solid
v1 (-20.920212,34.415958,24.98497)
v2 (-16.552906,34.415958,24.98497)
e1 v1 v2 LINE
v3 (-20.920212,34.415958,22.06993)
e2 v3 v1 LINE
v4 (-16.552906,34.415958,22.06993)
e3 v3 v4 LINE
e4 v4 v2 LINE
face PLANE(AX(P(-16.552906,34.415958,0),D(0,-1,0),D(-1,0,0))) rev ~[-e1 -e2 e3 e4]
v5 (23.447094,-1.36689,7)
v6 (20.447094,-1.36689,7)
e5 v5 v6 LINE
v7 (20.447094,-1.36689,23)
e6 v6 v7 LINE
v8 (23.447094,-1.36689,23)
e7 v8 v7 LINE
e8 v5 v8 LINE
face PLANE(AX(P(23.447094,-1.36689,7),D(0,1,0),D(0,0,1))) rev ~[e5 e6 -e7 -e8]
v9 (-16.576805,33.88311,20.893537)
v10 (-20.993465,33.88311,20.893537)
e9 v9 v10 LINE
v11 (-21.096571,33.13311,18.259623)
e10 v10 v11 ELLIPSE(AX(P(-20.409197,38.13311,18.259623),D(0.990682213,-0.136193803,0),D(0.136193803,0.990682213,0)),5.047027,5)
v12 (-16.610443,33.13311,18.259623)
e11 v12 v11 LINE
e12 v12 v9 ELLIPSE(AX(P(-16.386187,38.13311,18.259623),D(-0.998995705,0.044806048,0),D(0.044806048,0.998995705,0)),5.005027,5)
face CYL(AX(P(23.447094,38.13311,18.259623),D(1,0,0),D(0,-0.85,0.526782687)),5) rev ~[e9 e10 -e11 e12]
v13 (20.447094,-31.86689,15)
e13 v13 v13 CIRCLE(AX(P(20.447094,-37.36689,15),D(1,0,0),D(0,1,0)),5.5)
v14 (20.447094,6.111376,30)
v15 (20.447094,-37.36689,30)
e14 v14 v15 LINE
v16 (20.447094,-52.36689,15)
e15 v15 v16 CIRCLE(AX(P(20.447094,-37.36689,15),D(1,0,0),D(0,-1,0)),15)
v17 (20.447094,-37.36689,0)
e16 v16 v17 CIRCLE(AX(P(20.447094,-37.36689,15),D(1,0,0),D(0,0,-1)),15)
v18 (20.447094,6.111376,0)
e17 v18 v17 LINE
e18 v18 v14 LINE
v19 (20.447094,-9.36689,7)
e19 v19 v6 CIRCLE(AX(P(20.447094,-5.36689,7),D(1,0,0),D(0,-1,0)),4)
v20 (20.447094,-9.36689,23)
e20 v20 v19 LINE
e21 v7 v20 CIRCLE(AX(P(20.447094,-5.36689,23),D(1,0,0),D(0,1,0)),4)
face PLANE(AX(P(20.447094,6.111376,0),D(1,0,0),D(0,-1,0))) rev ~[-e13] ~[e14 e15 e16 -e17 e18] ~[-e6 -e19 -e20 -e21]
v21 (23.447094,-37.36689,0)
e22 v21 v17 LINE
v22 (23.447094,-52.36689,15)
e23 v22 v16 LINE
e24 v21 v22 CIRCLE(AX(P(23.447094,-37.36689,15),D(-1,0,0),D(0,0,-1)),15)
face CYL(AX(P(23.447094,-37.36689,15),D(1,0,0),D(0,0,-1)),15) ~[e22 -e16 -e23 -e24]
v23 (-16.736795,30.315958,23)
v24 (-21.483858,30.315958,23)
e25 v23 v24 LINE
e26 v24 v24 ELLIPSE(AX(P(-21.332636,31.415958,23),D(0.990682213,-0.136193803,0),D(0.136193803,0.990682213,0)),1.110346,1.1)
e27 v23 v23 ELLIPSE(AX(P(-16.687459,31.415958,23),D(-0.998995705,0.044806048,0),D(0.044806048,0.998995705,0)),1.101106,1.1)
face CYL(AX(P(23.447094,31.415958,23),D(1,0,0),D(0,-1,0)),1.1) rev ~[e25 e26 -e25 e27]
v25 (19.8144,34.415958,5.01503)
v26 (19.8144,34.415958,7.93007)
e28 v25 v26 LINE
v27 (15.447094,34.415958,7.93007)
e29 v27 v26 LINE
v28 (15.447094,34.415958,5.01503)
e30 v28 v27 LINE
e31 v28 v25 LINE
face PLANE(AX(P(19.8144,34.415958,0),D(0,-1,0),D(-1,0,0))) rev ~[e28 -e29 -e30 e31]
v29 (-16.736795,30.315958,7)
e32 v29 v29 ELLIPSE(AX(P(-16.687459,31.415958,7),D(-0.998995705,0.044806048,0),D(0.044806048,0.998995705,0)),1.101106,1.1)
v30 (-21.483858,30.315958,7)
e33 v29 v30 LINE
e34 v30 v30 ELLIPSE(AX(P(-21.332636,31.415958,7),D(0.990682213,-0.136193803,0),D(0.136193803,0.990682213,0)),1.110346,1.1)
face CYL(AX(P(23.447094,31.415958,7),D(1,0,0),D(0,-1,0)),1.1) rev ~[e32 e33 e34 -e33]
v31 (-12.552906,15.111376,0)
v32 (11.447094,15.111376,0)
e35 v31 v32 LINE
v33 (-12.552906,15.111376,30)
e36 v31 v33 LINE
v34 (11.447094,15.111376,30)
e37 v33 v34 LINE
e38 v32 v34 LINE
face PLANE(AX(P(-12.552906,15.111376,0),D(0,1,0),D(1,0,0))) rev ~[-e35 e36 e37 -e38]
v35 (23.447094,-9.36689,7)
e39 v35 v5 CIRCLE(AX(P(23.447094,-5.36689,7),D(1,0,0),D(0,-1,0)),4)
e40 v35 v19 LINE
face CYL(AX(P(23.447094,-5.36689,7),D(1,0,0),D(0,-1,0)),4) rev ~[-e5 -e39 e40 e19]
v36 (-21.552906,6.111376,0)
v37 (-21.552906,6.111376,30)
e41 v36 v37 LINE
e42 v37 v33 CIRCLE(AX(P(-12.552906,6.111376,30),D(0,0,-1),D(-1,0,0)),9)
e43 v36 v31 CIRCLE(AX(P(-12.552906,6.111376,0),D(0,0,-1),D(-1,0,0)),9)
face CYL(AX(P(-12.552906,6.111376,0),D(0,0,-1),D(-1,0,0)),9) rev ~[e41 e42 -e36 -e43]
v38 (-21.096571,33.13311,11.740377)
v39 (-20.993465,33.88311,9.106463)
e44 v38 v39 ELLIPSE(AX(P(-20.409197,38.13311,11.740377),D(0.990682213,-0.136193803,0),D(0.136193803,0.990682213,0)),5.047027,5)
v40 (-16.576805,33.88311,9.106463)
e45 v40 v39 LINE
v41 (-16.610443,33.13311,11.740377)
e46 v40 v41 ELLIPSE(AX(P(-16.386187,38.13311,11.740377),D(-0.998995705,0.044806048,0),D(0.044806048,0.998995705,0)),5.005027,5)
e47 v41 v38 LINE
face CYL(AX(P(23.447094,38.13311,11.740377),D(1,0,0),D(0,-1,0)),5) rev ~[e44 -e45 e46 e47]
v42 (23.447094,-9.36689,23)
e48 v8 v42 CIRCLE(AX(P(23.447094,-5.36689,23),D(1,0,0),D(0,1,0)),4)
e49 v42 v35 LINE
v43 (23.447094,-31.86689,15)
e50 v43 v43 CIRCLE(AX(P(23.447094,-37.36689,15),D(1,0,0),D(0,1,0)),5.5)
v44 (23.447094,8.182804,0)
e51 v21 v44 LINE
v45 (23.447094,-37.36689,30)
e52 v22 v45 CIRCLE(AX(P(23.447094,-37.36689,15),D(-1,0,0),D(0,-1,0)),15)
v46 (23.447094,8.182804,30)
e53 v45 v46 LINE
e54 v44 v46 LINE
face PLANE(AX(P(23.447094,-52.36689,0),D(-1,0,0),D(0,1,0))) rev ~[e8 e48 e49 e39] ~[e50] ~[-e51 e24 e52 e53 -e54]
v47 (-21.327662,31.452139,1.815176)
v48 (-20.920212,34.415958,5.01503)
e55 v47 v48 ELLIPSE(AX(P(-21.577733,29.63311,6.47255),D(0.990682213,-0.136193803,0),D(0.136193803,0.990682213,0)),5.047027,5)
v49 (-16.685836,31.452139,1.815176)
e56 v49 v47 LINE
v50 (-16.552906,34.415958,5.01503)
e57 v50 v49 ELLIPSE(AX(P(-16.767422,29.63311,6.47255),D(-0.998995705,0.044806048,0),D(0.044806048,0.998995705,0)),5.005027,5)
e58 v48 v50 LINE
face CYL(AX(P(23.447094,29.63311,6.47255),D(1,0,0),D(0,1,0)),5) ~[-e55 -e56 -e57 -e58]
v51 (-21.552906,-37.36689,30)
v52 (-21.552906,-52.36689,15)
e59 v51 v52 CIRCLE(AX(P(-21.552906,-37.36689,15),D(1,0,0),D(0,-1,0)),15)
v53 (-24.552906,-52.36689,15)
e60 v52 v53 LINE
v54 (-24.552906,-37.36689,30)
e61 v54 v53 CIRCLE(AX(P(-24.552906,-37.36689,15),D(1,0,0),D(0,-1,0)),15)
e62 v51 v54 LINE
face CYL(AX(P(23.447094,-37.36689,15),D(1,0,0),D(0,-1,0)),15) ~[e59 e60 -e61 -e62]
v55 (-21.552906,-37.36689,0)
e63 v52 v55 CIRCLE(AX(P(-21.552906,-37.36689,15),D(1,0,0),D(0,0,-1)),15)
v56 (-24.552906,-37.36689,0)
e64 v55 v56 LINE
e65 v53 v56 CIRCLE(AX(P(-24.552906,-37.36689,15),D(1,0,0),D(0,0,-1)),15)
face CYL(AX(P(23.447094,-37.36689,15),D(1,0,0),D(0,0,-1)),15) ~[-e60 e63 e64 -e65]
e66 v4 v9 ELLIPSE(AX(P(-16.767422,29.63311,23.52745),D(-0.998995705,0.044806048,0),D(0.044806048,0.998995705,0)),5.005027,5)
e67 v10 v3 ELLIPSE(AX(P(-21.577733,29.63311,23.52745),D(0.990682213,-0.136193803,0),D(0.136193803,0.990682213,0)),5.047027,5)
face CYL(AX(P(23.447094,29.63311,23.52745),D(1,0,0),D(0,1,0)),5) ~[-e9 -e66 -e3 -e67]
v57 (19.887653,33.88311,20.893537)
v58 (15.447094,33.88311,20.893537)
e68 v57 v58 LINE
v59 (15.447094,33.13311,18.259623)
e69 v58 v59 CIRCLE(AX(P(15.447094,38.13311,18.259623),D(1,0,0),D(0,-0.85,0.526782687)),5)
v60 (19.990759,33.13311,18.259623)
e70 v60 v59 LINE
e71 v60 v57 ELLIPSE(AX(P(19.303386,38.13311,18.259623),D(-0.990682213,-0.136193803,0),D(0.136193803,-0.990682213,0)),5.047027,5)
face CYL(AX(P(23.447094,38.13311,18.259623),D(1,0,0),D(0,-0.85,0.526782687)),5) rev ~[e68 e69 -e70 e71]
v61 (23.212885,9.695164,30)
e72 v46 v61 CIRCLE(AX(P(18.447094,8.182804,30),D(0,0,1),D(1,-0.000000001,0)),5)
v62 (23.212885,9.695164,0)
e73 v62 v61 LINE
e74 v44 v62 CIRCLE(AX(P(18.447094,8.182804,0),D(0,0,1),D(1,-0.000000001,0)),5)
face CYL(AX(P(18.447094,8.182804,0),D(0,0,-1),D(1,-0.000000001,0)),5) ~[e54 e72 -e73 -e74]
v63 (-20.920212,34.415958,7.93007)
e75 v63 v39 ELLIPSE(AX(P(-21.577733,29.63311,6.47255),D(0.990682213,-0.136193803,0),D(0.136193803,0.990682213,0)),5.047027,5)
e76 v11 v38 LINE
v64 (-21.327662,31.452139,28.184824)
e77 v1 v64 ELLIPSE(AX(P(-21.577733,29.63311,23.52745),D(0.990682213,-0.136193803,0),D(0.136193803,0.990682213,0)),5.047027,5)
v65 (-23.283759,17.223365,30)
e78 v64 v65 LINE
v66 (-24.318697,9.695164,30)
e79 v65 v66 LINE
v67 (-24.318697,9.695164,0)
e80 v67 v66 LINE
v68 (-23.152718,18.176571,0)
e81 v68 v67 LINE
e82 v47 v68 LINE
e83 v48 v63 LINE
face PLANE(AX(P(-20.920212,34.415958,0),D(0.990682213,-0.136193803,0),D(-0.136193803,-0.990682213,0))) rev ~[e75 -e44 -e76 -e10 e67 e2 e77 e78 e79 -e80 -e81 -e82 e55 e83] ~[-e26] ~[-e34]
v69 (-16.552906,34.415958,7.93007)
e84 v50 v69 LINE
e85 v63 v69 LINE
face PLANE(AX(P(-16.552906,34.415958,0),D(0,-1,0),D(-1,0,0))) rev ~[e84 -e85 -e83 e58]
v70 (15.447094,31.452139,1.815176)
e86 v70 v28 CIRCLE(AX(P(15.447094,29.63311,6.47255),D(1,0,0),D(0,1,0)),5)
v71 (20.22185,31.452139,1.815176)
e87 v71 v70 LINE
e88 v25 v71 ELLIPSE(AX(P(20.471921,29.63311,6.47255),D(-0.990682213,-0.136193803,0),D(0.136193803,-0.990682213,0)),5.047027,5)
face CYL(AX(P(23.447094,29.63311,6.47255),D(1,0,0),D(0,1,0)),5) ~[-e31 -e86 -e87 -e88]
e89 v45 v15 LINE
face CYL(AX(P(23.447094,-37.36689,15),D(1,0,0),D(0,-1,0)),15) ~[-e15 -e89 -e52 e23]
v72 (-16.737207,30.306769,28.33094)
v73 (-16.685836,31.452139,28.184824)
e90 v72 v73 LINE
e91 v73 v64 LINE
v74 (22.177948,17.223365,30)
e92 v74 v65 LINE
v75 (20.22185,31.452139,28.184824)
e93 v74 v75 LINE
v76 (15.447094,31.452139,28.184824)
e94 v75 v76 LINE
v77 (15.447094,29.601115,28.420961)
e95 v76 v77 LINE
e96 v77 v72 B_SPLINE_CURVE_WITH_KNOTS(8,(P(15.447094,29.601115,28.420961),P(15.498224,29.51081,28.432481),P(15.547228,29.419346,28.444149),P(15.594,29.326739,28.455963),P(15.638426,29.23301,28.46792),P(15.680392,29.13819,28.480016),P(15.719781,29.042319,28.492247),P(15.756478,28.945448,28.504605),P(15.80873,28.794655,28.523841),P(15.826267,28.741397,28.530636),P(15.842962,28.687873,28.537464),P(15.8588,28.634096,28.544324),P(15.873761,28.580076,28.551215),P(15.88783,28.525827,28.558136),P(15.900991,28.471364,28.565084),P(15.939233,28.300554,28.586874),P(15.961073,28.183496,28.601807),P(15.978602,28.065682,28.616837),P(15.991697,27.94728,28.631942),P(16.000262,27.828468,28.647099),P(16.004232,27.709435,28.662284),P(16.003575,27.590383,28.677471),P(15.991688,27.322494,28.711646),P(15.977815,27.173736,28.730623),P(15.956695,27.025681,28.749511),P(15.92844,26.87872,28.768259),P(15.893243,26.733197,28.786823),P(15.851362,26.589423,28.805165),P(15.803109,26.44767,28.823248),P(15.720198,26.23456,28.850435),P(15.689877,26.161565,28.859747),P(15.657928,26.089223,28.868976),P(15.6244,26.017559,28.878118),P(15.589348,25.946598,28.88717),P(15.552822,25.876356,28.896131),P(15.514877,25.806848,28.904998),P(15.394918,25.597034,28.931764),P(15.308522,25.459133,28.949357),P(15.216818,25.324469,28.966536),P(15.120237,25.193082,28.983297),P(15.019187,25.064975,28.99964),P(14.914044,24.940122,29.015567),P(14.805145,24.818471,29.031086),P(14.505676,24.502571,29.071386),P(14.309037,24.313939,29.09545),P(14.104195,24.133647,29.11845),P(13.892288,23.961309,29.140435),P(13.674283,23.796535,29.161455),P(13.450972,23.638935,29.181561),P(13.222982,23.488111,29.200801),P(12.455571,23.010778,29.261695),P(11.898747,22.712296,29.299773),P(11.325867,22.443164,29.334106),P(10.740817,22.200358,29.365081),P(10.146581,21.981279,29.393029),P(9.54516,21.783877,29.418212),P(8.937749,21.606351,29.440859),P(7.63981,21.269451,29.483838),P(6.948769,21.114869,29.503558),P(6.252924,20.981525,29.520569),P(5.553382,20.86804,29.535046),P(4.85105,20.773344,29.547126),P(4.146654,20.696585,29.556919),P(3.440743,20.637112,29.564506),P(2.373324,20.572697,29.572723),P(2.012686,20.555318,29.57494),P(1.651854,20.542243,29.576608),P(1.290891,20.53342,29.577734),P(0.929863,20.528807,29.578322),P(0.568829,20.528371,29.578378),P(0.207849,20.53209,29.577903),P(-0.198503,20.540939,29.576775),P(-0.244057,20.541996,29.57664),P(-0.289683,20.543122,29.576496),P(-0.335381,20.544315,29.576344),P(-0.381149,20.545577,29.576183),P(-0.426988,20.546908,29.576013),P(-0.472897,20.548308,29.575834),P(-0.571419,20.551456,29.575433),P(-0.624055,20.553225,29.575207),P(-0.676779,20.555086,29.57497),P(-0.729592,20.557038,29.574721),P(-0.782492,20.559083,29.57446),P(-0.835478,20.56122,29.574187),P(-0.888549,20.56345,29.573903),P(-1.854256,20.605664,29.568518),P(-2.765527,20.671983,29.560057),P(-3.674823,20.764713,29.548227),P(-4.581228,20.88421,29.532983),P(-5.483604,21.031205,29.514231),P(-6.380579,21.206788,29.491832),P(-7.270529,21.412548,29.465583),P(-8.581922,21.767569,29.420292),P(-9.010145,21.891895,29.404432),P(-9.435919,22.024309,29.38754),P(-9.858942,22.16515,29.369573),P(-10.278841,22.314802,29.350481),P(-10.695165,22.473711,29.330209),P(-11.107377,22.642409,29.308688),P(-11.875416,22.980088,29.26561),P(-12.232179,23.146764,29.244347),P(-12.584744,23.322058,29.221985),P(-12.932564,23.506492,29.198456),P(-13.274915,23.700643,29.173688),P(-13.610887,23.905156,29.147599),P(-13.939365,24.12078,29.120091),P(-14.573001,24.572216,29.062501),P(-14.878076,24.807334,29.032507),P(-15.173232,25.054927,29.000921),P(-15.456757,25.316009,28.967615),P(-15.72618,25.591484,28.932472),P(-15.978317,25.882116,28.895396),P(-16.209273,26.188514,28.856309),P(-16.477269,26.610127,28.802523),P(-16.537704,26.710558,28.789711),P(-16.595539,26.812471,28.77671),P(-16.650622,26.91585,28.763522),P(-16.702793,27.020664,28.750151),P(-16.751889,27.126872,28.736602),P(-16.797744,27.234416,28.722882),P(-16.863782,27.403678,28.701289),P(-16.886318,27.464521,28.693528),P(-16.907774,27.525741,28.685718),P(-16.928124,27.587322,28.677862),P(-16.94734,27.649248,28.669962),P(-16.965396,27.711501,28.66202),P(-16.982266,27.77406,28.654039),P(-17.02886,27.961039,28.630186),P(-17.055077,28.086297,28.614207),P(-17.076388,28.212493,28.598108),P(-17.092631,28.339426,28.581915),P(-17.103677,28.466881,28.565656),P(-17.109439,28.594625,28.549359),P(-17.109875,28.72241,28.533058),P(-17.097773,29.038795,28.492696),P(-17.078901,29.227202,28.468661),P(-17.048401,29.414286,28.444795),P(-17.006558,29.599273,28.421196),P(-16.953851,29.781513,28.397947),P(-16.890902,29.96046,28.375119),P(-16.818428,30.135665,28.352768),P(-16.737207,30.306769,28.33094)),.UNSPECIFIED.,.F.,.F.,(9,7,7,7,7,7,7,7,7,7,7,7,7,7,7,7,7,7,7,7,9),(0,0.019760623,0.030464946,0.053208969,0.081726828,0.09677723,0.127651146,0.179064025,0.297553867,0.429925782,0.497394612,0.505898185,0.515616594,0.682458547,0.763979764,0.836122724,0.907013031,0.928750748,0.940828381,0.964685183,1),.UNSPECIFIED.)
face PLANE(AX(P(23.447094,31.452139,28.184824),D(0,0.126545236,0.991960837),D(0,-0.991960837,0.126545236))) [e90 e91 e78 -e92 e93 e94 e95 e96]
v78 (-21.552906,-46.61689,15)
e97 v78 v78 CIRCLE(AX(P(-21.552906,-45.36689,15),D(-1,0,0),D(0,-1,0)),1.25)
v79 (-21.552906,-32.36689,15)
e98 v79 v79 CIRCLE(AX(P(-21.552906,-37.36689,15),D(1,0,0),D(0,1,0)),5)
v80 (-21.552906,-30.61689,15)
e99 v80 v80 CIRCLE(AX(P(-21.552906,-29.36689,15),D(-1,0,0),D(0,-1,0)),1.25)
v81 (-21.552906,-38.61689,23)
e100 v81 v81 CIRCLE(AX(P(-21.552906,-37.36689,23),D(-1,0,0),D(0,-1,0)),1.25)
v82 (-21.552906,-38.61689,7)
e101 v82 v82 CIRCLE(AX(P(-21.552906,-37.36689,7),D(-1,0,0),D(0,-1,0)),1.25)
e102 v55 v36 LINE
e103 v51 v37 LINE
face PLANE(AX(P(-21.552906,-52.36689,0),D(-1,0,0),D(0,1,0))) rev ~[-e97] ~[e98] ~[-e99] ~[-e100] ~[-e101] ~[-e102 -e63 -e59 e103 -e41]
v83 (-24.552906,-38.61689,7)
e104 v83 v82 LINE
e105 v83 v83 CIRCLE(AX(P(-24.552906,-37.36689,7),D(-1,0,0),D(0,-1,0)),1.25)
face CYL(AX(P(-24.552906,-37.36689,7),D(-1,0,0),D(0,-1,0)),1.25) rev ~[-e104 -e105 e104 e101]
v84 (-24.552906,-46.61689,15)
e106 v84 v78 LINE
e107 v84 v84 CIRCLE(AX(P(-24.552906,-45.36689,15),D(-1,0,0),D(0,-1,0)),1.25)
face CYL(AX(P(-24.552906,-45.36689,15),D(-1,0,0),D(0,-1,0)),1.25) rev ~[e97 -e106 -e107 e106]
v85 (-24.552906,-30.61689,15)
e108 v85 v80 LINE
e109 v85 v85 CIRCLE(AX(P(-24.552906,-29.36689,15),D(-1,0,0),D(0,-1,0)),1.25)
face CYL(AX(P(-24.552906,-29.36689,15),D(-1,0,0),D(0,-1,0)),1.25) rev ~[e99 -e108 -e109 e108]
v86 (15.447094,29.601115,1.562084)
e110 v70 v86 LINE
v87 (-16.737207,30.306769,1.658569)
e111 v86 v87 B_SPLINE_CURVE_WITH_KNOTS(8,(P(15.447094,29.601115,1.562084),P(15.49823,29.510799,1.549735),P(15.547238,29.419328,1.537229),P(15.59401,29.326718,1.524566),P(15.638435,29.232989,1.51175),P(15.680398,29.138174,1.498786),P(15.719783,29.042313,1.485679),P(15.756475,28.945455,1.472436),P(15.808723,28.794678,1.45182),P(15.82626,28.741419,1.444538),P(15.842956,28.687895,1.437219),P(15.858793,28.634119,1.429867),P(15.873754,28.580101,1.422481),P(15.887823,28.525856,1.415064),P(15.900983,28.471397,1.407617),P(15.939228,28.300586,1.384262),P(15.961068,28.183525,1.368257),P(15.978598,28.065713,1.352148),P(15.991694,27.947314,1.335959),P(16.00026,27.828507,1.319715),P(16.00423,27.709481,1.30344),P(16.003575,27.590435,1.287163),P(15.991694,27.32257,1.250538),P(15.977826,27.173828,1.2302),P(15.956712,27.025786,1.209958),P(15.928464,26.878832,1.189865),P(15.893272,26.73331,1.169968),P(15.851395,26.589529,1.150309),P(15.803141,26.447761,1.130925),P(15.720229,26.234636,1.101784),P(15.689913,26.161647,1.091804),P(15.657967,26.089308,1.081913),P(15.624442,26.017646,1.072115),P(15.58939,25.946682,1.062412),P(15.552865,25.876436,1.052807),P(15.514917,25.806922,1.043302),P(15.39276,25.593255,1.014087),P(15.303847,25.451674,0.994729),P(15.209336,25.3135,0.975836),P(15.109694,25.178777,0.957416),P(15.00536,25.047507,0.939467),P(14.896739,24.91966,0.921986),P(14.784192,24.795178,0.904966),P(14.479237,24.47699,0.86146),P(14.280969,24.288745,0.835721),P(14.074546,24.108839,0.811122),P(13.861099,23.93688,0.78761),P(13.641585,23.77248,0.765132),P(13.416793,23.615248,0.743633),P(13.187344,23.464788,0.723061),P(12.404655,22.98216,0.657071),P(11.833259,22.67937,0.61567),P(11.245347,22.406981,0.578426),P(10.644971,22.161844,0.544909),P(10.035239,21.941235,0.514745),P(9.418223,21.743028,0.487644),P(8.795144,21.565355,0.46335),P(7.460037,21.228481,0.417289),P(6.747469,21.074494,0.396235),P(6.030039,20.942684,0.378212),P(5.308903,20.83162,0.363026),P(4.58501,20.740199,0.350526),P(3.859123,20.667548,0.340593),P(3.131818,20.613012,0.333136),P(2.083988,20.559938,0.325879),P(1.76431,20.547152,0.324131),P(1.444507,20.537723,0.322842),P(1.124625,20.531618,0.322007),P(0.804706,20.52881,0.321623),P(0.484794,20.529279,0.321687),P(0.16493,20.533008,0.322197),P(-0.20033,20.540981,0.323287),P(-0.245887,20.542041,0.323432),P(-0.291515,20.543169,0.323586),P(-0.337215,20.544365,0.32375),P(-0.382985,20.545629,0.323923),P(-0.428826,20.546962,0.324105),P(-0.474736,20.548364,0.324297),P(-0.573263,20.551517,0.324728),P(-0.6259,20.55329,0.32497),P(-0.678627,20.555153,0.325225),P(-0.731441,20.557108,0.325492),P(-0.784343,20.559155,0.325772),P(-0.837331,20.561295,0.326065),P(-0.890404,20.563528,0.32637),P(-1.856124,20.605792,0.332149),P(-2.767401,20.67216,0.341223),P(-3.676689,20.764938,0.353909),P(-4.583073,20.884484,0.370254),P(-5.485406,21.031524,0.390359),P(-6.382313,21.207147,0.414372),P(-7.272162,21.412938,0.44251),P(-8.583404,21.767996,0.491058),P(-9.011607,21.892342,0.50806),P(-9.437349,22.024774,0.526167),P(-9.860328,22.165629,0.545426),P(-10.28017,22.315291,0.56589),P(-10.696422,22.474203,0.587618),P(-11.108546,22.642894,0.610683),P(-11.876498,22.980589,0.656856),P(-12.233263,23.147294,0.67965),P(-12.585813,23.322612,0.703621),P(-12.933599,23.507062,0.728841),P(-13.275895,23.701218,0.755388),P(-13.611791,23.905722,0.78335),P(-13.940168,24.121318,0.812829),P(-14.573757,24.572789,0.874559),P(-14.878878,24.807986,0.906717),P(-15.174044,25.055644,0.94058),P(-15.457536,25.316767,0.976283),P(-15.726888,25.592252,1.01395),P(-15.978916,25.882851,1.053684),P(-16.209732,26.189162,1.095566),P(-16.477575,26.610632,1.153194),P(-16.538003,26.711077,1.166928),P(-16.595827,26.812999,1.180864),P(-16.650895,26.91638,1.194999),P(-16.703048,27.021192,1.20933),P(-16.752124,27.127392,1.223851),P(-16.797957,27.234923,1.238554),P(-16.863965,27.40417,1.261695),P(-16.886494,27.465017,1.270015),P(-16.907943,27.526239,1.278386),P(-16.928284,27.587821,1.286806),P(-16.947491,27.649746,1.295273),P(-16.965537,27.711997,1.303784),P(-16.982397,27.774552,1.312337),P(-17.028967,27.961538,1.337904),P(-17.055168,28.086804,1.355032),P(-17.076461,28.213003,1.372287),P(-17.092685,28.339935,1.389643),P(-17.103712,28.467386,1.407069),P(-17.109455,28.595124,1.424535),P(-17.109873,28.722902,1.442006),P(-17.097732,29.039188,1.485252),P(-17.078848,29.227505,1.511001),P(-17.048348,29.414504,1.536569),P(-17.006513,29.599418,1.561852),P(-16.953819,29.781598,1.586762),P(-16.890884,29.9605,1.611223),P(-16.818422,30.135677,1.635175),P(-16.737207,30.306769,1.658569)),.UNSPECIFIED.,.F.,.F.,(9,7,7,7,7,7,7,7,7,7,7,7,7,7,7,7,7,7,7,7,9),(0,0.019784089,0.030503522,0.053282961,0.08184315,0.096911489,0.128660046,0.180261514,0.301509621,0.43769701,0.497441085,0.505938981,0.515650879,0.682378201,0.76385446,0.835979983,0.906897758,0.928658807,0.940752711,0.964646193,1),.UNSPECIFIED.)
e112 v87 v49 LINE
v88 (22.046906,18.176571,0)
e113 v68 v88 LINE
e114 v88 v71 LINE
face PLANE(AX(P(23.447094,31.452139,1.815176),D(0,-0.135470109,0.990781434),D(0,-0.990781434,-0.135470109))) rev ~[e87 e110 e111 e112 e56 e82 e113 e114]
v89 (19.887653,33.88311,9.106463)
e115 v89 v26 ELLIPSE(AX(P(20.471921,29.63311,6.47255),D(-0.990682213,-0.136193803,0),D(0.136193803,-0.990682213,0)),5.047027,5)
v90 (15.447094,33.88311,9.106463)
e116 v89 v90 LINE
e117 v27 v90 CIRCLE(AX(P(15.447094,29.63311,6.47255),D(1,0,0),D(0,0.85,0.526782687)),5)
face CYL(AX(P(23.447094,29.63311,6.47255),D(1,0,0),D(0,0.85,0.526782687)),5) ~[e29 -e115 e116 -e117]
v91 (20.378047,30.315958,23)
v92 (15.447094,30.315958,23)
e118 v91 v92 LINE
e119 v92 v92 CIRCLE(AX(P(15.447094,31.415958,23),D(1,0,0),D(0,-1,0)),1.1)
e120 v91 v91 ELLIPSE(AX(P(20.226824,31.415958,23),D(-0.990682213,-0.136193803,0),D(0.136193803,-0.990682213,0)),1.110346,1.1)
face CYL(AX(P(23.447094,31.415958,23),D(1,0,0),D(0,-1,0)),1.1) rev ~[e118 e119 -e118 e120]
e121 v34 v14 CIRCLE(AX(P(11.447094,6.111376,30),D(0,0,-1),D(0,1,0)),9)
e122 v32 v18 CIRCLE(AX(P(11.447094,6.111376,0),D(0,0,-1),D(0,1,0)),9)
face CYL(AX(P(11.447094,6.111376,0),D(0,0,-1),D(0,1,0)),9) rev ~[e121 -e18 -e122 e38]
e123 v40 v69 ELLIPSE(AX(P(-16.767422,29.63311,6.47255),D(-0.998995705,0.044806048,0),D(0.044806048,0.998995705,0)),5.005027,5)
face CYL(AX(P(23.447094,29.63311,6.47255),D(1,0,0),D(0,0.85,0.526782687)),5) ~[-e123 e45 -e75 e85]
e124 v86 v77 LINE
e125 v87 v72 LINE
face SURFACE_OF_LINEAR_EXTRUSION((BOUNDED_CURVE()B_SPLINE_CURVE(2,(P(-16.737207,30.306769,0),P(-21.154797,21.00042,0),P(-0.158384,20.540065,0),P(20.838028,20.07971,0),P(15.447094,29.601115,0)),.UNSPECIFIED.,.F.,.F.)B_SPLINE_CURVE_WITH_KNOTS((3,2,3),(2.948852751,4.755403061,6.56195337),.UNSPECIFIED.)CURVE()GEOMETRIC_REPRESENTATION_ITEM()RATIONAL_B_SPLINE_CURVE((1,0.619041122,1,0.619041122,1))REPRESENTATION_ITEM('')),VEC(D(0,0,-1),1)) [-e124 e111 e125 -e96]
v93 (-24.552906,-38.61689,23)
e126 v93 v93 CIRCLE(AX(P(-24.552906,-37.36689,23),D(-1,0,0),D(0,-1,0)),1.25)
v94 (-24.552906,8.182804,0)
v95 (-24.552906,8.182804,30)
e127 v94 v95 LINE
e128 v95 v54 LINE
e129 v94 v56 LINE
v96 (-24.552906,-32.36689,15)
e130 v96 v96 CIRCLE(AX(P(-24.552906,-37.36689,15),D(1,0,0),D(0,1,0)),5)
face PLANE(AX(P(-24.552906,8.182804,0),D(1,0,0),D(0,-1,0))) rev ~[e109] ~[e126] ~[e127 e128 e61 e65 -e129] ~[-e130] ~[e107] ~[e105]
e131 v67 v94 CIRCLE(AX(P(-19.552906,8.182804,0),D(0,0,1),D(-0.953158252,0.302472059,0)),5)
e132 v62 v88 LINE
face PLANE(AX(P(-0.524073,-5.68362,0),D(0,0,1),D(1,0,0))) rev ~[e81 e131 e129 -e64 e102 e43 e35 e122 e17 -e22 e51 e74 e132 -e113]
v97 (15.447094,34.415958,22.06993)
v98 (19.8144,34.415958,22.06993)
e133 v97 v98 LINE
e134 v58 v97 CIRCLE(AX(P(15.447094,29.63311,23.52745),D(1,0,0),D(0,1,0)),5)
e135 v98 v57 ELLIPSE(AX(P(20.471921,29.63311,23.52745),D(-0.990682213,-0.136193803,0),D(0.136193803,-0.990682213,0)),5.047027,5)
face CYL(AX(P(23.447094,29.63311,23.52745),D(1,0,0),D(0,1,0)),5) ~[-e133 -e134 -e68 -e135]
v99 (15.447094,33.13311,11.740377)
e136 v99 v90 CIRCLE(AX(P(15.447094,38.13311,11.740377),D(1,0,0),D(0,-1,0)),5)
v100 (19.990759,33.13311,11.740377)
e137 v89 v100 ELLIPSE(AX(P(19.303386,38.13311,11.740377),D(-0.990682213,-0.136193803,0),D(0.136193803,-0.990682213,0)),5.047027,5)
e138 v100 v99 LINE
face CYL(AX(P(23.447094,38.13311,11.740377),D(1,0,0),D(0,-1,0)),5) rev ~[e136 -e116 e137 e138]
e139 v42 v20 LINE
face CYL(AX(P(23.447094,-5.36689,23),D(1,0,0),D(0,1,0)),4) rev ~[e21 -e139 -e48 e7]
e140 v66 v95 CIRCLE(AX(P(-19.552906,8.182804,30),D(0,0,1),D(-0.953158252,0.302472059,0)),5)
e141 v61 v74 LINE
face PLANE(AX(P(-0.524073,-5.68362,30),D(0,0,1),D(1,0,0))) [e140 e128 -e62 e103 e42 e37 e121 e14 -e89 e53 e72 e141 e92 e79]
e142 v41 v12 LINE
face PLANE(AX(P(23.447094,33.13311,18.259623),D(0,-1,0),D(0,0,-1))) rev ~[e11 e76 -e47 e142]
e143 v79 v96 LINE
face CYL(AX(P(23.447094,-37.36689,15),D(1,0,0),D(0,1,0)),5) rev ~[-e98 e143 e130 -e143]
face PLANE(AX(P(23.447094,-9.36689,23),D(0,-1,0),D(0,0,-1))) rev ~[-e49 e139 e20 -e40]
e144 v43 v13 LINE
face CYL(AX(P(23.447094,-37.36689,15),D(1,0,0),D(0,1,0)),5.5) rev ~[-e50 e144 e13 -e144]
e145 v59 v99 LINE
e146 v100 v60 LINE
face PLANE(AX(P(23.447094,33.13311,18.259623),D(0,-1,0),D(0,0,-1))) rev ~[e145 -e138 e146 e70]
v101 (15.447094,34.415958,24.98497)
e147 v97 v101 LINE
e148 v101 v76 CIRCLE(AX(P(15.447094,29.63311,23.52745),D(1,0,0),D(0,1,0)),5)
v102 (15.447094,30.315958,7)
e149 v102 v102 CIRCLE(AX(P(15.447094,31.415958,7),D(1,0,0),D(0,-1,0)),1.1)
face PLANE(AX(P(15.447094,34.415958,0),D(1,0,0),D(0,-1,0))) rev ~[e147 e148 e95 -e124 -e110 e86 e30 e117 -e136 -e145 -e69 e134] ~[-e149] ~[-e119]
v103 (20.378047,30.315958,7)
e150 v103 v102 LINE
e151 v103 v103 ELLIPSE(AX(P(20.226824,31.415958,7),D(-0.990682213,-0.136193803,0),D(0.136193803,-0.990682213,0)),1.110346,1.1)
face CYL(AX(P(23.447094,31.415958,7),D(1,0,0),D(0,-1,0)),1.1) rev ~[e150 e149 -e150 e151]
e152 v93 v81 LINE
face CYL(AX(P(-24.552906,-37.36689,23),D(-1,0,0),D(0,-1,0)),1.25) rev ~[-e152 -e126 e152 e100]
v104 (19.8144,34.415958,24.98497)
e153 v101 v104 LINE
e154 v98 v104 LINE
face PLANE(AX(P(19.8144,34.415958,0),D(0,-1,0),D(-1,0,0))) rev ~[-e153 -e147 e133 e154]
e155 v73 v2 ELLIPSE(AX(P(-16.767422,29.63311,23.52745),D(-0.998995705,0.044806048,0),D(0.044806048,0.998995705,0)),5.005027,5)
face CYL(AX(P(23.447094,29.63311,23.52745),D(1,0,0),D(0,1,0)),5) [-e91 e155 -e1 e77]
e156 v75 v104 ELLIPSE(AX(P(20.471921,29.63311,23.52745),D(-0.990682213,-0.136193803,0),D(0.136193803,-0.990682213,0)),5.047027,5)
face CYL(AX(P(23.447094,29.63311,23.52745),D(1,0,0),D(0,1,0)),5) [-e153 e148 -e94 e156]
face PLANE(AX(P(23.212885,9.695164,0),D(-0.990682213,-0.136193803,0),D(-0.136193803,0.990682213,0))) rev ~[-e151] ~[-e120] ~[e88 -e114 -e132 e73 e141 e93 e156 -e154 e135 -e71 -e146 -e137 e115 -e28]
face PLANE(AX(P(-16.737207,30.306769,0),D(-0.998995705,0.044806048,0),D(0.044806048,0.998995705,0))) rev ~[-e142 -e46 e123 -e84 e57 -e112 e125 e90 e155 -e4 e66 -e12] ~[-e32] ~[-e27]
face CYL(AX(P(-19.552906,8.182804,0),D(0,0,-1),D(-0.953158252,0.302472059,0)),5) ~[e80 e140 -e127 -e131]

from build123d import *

# Parameters (mm, degrees)
EXTRUDE_1_DEPTH      = 30
SKETCH_3_R           = 5
CUT_EXTRUDE_5_DEPTH  = 56
CUT_EXTRUDE_12_DEPTH = 51
SKETCH_3_4_R         = 1.1
CUT_EXTRUDE_7_DEPTH  = 56
SKETCH_6_R           = 1.25
CUT_EXTRUDE_9_DEPTH  = 22
SKETCH_5_R           = 5.5
CUT_EXTRUDE_13_DEPTH = 10


with BuildPart() as part:
    # Эскиз1 → Бобышка-Вытянуть1 (new body)
    with BuildSketch(Plane.XY):
        with BuildLine():
            ThreePointArc((23.447094189, 8.182803621), (23.388195094, 8.947997617), (23.212885448, 9.69516392))
            Line((23.212885448, 9.69516392), (19.814400159, 34.41595773))
            Line((19.814400159, 34.41595773), (15.447094189, 34.41595773))
            Line((15.447094189, 34.41595773), (15.447094189, 29.601114652))
            add(Edge.make_bspline(
                [(-16.737207413, 30.306768931), (-21.154797026, 21.000420448), (-0.15838441, 20.540065316), (20.838028206, 20.079710184), (15.447094189, 29.601114652)],
                knots=[2.948852751, 2.948852751, 2.948852751, 4.755403061, 4.755403061, 6.56195337, 6.56195337, 6.56195337], degree=2, weights=[1, 0.619041122, 1, 0.619041122, 1]))
            Line((-16.737207413, 30.306768931), (-16.552905811, 34.41595773))
            Line((-16.552905811, 34.41595773), (-20.92021178, 34.41595773))
            Line((-20.92021178, 34.41595773), (-24.31869707, 9.69516392))
            ThreePointArc((-24.31869707, 9.69516392), (-24.494006715, 8.947997617), (-24.552905811, 8.182803621))
            Line((-24.552905811, 8.182803621), (-24.552905811, -52.36689041))
            Line((-24.552905811, -52.36689041), (-21.552905811, -52.36689041))
            Line((-21.552905811, -52.36689041), (-21.552905811, 5.955043958))
            Line((-21.552905811, 5.955043958), (-21.552905811, 6.111376347))
            ThreePointArc((-21.552905811, 6.111376347), (-18.916866841, 12.475337378), (-12.552905811, 15.111376347))
            Line((-12.552905811, 15.111376347), (11.447094189, 15.111376347))
            ThreePointArc((11.447094189, 15.111376347), (17.81105522, 12.475337378), (20.447094189, 6.111376347))
            Line((20.447094189, 6.111376347), (20.447094189, 5.955043958))
            Line((20.447094189, 5.955043958), (20.447094189, -52.36689041))
            Line((20.447094189, -52.36689041), (23.447094189, -52.36689041))
            Line((23.447094189, -52.36689041), (23.447094189, 8.182803621))
        make_face()
    extrude(amount=EXTRUDE_1_DEPTH)

    # Эскиз3 → Вырез-Вытянуть5 (cut)
    with BuildSketch(Plane(origin=(23.447094189, 0, 0), x_dir=(0, 0, -1), z_dir=(1, 0, 0))):
        with Locations(Location((-15, -37.36689041, 0), (0, 0, 90))):
            Circle(SKETCH_3_R)
        with BuildLine():
            ThreePointArc((-15, -52.36689041), (-25.606601718, -47.973492128), (-30, -37.36689041))
            Line((-30, -37.36689041), (-30, -52.36689041))
            Line((-30, -52.36689041), (-15, -52.36689041))
        make_face()
        with BuildLine():
            ThreePointArc((0, -37.36689041), (-4.393398282, -47.973492128), (-15, -52.36689041))
            Line((-15, -52.36689041), (0, -52.36689041))
            Line((0, -52.36689041), (0, -37.36689041))
        make_face()
    extrude(amount=-CUT_EXTRUDE_5_DEPTH, mode=Mode.SUBTRACT)

    # Эскиз2 → Вырез-Вытянуть12 (cut)
    with BuildSketch(Plane(origin=(23.447094189, 0, 0), x_dir=(0, 0, -1), z_dir=(1, 0, 0))):
        with BuildLine():
            ThreePointArc((-23.527450038, 34.63310959), (-26.347454746, 33.761980313), (-28.184823989, 31.45213897))
            Line((-28.184823989, 31.45213897), (-30.35352757, 14.45213897))
            Line((-30.35352757, 14.45213897), (-30.35352757, 34.95213897))
            Line((-30.35352757, 34.95213897), (-23.527450038, 34.63310959))
        make_face()
        with BuildLine():
            Line((-18.259623162, 33.13310959), (-15, 33.13310959))
            Line((-15, 33.13310959), (-15, 34.63310959))
            Line((-15, 34.63310959), (-23.527450038, 34.63310959))
            ThreePointArc((-23.527450038, 34.63310959), (-22.158143644, 34.441955605), (-20.8935366, 33.88310959))
            ThreePointArc((-20.8935366, 33.88310959), (-19.628929556, 33.324263575), (-18.259623162, 33.13310959))
        make_face()
        with BuildLine():
            Line((-15, 34.63310959), (-15, 33.13310959))
            Line((-15, 33.13310959), (-11.740376838, 33.13310959))
            ThreePointArc((-11.740376838, 33.13310959), (-10.371070444, 33.324263575), (-9.1064634, 33.88310959))
            ThreePointArc((-9.1064634, 33.88310959), (-7.841856356, 34.441955605), (-6.472549962, 34.63310959))
            Line((-6.472549962, 34.63310959), (-15, 34.63310959))
        make_face()
        with BuildLine():
            Line((0.509110945, 34.95310959), (-6.472549962, 34.63310959))
            ThreePointArc((-6.472549962, 34.63310959), (-3.652545254, 33.761980313), (-1.815176011, 31.45213897))
            Line((-1.815176011, 31.45213897), (0.509110945, 14.45310959))
            Line((0.509110945, 14.45310959), (0.509110945, 34.95310959))
        make_face()
    extrude(amount=-CUT_EXTRUDE_12_DEPTH, mode=Mode.SUBTRACT)

    # Эскиз3<4> → Вырез-Вытянуть7 (cut)
    with BuildSketch(Plane(origin=(23.447094189, 0, 0), x_dir=(0, 0, -1), z_dir=(1, 0, 0))):
        with Locations(Location((-23, 31.41595774, 0), (0, 0, 270))):
            Circle(SKETCH_3_4_R)
        with Locations(Location((-7, 31.41595774, 0), (0, 0, 270))):
            Circle(SKETCH_3_4_R)
    extrude(amount=-CUT_EXTRUDE_7_DEPTH, mode=Mode.SUBTRACT)

    # Эскиз6 → Вырез-Вытянуть9 (cut)
    with BuildSketch(Plane.ZY.offset(24.552905811)):
        with Locations(Location((15, -29.36689041, 0), (0, 0, 270))):
            Circle(SKETCH_6_R)
        with Locations(Location((7, -37.36689041, 0), (0, 0, 270))):
            Circle(SKETCH_6_R)
        with Locations(Location((23, -37.36689041, 0), (0, 0, 270))):
            Circle(SKETCH_6_R)
        with Locations(Location((15, -45.36689041, 0), (0, 0, 270))):
            Circle(SKETCH_6_R)
    extrude(amount=-CUT_EXTRUDE_9_DEPTH, mode=Mode.SUBTRACT)

    # Эскиз5 → Вырез-Вытянуть13 (cut)
    with BuildSketch(Plane(origin=(23.447094189, 0, 0), x_dir=(0, 0, -1), z_dir=(1, 0, 0))):
        with Locations(Location((-15, -37.36689041, 0), (0, 0, 90))):
            Circle(SKETCH_5_R)
        with BuildLine():
            Line((-15, -1.36689041), (-23, -1.36689041))
            ThreePointArc((-23, -1.36689041), (-27, -5.36689041), (-23, -9.36689041))
            Line((-23, -9.36689041), (-7, -9.36689041))
            ThreePointArc((-7, -9.36689041), (-3, -5.36689041), (-7, -1.36689041))
            Line((-7, -1.36689041), (-15, -1.36689041))
        make_face()
    extrude(amount=-CUT_EXTRUDE_13_DEPTH, mode=Mode.SUBTRACT)


solid = part.part
